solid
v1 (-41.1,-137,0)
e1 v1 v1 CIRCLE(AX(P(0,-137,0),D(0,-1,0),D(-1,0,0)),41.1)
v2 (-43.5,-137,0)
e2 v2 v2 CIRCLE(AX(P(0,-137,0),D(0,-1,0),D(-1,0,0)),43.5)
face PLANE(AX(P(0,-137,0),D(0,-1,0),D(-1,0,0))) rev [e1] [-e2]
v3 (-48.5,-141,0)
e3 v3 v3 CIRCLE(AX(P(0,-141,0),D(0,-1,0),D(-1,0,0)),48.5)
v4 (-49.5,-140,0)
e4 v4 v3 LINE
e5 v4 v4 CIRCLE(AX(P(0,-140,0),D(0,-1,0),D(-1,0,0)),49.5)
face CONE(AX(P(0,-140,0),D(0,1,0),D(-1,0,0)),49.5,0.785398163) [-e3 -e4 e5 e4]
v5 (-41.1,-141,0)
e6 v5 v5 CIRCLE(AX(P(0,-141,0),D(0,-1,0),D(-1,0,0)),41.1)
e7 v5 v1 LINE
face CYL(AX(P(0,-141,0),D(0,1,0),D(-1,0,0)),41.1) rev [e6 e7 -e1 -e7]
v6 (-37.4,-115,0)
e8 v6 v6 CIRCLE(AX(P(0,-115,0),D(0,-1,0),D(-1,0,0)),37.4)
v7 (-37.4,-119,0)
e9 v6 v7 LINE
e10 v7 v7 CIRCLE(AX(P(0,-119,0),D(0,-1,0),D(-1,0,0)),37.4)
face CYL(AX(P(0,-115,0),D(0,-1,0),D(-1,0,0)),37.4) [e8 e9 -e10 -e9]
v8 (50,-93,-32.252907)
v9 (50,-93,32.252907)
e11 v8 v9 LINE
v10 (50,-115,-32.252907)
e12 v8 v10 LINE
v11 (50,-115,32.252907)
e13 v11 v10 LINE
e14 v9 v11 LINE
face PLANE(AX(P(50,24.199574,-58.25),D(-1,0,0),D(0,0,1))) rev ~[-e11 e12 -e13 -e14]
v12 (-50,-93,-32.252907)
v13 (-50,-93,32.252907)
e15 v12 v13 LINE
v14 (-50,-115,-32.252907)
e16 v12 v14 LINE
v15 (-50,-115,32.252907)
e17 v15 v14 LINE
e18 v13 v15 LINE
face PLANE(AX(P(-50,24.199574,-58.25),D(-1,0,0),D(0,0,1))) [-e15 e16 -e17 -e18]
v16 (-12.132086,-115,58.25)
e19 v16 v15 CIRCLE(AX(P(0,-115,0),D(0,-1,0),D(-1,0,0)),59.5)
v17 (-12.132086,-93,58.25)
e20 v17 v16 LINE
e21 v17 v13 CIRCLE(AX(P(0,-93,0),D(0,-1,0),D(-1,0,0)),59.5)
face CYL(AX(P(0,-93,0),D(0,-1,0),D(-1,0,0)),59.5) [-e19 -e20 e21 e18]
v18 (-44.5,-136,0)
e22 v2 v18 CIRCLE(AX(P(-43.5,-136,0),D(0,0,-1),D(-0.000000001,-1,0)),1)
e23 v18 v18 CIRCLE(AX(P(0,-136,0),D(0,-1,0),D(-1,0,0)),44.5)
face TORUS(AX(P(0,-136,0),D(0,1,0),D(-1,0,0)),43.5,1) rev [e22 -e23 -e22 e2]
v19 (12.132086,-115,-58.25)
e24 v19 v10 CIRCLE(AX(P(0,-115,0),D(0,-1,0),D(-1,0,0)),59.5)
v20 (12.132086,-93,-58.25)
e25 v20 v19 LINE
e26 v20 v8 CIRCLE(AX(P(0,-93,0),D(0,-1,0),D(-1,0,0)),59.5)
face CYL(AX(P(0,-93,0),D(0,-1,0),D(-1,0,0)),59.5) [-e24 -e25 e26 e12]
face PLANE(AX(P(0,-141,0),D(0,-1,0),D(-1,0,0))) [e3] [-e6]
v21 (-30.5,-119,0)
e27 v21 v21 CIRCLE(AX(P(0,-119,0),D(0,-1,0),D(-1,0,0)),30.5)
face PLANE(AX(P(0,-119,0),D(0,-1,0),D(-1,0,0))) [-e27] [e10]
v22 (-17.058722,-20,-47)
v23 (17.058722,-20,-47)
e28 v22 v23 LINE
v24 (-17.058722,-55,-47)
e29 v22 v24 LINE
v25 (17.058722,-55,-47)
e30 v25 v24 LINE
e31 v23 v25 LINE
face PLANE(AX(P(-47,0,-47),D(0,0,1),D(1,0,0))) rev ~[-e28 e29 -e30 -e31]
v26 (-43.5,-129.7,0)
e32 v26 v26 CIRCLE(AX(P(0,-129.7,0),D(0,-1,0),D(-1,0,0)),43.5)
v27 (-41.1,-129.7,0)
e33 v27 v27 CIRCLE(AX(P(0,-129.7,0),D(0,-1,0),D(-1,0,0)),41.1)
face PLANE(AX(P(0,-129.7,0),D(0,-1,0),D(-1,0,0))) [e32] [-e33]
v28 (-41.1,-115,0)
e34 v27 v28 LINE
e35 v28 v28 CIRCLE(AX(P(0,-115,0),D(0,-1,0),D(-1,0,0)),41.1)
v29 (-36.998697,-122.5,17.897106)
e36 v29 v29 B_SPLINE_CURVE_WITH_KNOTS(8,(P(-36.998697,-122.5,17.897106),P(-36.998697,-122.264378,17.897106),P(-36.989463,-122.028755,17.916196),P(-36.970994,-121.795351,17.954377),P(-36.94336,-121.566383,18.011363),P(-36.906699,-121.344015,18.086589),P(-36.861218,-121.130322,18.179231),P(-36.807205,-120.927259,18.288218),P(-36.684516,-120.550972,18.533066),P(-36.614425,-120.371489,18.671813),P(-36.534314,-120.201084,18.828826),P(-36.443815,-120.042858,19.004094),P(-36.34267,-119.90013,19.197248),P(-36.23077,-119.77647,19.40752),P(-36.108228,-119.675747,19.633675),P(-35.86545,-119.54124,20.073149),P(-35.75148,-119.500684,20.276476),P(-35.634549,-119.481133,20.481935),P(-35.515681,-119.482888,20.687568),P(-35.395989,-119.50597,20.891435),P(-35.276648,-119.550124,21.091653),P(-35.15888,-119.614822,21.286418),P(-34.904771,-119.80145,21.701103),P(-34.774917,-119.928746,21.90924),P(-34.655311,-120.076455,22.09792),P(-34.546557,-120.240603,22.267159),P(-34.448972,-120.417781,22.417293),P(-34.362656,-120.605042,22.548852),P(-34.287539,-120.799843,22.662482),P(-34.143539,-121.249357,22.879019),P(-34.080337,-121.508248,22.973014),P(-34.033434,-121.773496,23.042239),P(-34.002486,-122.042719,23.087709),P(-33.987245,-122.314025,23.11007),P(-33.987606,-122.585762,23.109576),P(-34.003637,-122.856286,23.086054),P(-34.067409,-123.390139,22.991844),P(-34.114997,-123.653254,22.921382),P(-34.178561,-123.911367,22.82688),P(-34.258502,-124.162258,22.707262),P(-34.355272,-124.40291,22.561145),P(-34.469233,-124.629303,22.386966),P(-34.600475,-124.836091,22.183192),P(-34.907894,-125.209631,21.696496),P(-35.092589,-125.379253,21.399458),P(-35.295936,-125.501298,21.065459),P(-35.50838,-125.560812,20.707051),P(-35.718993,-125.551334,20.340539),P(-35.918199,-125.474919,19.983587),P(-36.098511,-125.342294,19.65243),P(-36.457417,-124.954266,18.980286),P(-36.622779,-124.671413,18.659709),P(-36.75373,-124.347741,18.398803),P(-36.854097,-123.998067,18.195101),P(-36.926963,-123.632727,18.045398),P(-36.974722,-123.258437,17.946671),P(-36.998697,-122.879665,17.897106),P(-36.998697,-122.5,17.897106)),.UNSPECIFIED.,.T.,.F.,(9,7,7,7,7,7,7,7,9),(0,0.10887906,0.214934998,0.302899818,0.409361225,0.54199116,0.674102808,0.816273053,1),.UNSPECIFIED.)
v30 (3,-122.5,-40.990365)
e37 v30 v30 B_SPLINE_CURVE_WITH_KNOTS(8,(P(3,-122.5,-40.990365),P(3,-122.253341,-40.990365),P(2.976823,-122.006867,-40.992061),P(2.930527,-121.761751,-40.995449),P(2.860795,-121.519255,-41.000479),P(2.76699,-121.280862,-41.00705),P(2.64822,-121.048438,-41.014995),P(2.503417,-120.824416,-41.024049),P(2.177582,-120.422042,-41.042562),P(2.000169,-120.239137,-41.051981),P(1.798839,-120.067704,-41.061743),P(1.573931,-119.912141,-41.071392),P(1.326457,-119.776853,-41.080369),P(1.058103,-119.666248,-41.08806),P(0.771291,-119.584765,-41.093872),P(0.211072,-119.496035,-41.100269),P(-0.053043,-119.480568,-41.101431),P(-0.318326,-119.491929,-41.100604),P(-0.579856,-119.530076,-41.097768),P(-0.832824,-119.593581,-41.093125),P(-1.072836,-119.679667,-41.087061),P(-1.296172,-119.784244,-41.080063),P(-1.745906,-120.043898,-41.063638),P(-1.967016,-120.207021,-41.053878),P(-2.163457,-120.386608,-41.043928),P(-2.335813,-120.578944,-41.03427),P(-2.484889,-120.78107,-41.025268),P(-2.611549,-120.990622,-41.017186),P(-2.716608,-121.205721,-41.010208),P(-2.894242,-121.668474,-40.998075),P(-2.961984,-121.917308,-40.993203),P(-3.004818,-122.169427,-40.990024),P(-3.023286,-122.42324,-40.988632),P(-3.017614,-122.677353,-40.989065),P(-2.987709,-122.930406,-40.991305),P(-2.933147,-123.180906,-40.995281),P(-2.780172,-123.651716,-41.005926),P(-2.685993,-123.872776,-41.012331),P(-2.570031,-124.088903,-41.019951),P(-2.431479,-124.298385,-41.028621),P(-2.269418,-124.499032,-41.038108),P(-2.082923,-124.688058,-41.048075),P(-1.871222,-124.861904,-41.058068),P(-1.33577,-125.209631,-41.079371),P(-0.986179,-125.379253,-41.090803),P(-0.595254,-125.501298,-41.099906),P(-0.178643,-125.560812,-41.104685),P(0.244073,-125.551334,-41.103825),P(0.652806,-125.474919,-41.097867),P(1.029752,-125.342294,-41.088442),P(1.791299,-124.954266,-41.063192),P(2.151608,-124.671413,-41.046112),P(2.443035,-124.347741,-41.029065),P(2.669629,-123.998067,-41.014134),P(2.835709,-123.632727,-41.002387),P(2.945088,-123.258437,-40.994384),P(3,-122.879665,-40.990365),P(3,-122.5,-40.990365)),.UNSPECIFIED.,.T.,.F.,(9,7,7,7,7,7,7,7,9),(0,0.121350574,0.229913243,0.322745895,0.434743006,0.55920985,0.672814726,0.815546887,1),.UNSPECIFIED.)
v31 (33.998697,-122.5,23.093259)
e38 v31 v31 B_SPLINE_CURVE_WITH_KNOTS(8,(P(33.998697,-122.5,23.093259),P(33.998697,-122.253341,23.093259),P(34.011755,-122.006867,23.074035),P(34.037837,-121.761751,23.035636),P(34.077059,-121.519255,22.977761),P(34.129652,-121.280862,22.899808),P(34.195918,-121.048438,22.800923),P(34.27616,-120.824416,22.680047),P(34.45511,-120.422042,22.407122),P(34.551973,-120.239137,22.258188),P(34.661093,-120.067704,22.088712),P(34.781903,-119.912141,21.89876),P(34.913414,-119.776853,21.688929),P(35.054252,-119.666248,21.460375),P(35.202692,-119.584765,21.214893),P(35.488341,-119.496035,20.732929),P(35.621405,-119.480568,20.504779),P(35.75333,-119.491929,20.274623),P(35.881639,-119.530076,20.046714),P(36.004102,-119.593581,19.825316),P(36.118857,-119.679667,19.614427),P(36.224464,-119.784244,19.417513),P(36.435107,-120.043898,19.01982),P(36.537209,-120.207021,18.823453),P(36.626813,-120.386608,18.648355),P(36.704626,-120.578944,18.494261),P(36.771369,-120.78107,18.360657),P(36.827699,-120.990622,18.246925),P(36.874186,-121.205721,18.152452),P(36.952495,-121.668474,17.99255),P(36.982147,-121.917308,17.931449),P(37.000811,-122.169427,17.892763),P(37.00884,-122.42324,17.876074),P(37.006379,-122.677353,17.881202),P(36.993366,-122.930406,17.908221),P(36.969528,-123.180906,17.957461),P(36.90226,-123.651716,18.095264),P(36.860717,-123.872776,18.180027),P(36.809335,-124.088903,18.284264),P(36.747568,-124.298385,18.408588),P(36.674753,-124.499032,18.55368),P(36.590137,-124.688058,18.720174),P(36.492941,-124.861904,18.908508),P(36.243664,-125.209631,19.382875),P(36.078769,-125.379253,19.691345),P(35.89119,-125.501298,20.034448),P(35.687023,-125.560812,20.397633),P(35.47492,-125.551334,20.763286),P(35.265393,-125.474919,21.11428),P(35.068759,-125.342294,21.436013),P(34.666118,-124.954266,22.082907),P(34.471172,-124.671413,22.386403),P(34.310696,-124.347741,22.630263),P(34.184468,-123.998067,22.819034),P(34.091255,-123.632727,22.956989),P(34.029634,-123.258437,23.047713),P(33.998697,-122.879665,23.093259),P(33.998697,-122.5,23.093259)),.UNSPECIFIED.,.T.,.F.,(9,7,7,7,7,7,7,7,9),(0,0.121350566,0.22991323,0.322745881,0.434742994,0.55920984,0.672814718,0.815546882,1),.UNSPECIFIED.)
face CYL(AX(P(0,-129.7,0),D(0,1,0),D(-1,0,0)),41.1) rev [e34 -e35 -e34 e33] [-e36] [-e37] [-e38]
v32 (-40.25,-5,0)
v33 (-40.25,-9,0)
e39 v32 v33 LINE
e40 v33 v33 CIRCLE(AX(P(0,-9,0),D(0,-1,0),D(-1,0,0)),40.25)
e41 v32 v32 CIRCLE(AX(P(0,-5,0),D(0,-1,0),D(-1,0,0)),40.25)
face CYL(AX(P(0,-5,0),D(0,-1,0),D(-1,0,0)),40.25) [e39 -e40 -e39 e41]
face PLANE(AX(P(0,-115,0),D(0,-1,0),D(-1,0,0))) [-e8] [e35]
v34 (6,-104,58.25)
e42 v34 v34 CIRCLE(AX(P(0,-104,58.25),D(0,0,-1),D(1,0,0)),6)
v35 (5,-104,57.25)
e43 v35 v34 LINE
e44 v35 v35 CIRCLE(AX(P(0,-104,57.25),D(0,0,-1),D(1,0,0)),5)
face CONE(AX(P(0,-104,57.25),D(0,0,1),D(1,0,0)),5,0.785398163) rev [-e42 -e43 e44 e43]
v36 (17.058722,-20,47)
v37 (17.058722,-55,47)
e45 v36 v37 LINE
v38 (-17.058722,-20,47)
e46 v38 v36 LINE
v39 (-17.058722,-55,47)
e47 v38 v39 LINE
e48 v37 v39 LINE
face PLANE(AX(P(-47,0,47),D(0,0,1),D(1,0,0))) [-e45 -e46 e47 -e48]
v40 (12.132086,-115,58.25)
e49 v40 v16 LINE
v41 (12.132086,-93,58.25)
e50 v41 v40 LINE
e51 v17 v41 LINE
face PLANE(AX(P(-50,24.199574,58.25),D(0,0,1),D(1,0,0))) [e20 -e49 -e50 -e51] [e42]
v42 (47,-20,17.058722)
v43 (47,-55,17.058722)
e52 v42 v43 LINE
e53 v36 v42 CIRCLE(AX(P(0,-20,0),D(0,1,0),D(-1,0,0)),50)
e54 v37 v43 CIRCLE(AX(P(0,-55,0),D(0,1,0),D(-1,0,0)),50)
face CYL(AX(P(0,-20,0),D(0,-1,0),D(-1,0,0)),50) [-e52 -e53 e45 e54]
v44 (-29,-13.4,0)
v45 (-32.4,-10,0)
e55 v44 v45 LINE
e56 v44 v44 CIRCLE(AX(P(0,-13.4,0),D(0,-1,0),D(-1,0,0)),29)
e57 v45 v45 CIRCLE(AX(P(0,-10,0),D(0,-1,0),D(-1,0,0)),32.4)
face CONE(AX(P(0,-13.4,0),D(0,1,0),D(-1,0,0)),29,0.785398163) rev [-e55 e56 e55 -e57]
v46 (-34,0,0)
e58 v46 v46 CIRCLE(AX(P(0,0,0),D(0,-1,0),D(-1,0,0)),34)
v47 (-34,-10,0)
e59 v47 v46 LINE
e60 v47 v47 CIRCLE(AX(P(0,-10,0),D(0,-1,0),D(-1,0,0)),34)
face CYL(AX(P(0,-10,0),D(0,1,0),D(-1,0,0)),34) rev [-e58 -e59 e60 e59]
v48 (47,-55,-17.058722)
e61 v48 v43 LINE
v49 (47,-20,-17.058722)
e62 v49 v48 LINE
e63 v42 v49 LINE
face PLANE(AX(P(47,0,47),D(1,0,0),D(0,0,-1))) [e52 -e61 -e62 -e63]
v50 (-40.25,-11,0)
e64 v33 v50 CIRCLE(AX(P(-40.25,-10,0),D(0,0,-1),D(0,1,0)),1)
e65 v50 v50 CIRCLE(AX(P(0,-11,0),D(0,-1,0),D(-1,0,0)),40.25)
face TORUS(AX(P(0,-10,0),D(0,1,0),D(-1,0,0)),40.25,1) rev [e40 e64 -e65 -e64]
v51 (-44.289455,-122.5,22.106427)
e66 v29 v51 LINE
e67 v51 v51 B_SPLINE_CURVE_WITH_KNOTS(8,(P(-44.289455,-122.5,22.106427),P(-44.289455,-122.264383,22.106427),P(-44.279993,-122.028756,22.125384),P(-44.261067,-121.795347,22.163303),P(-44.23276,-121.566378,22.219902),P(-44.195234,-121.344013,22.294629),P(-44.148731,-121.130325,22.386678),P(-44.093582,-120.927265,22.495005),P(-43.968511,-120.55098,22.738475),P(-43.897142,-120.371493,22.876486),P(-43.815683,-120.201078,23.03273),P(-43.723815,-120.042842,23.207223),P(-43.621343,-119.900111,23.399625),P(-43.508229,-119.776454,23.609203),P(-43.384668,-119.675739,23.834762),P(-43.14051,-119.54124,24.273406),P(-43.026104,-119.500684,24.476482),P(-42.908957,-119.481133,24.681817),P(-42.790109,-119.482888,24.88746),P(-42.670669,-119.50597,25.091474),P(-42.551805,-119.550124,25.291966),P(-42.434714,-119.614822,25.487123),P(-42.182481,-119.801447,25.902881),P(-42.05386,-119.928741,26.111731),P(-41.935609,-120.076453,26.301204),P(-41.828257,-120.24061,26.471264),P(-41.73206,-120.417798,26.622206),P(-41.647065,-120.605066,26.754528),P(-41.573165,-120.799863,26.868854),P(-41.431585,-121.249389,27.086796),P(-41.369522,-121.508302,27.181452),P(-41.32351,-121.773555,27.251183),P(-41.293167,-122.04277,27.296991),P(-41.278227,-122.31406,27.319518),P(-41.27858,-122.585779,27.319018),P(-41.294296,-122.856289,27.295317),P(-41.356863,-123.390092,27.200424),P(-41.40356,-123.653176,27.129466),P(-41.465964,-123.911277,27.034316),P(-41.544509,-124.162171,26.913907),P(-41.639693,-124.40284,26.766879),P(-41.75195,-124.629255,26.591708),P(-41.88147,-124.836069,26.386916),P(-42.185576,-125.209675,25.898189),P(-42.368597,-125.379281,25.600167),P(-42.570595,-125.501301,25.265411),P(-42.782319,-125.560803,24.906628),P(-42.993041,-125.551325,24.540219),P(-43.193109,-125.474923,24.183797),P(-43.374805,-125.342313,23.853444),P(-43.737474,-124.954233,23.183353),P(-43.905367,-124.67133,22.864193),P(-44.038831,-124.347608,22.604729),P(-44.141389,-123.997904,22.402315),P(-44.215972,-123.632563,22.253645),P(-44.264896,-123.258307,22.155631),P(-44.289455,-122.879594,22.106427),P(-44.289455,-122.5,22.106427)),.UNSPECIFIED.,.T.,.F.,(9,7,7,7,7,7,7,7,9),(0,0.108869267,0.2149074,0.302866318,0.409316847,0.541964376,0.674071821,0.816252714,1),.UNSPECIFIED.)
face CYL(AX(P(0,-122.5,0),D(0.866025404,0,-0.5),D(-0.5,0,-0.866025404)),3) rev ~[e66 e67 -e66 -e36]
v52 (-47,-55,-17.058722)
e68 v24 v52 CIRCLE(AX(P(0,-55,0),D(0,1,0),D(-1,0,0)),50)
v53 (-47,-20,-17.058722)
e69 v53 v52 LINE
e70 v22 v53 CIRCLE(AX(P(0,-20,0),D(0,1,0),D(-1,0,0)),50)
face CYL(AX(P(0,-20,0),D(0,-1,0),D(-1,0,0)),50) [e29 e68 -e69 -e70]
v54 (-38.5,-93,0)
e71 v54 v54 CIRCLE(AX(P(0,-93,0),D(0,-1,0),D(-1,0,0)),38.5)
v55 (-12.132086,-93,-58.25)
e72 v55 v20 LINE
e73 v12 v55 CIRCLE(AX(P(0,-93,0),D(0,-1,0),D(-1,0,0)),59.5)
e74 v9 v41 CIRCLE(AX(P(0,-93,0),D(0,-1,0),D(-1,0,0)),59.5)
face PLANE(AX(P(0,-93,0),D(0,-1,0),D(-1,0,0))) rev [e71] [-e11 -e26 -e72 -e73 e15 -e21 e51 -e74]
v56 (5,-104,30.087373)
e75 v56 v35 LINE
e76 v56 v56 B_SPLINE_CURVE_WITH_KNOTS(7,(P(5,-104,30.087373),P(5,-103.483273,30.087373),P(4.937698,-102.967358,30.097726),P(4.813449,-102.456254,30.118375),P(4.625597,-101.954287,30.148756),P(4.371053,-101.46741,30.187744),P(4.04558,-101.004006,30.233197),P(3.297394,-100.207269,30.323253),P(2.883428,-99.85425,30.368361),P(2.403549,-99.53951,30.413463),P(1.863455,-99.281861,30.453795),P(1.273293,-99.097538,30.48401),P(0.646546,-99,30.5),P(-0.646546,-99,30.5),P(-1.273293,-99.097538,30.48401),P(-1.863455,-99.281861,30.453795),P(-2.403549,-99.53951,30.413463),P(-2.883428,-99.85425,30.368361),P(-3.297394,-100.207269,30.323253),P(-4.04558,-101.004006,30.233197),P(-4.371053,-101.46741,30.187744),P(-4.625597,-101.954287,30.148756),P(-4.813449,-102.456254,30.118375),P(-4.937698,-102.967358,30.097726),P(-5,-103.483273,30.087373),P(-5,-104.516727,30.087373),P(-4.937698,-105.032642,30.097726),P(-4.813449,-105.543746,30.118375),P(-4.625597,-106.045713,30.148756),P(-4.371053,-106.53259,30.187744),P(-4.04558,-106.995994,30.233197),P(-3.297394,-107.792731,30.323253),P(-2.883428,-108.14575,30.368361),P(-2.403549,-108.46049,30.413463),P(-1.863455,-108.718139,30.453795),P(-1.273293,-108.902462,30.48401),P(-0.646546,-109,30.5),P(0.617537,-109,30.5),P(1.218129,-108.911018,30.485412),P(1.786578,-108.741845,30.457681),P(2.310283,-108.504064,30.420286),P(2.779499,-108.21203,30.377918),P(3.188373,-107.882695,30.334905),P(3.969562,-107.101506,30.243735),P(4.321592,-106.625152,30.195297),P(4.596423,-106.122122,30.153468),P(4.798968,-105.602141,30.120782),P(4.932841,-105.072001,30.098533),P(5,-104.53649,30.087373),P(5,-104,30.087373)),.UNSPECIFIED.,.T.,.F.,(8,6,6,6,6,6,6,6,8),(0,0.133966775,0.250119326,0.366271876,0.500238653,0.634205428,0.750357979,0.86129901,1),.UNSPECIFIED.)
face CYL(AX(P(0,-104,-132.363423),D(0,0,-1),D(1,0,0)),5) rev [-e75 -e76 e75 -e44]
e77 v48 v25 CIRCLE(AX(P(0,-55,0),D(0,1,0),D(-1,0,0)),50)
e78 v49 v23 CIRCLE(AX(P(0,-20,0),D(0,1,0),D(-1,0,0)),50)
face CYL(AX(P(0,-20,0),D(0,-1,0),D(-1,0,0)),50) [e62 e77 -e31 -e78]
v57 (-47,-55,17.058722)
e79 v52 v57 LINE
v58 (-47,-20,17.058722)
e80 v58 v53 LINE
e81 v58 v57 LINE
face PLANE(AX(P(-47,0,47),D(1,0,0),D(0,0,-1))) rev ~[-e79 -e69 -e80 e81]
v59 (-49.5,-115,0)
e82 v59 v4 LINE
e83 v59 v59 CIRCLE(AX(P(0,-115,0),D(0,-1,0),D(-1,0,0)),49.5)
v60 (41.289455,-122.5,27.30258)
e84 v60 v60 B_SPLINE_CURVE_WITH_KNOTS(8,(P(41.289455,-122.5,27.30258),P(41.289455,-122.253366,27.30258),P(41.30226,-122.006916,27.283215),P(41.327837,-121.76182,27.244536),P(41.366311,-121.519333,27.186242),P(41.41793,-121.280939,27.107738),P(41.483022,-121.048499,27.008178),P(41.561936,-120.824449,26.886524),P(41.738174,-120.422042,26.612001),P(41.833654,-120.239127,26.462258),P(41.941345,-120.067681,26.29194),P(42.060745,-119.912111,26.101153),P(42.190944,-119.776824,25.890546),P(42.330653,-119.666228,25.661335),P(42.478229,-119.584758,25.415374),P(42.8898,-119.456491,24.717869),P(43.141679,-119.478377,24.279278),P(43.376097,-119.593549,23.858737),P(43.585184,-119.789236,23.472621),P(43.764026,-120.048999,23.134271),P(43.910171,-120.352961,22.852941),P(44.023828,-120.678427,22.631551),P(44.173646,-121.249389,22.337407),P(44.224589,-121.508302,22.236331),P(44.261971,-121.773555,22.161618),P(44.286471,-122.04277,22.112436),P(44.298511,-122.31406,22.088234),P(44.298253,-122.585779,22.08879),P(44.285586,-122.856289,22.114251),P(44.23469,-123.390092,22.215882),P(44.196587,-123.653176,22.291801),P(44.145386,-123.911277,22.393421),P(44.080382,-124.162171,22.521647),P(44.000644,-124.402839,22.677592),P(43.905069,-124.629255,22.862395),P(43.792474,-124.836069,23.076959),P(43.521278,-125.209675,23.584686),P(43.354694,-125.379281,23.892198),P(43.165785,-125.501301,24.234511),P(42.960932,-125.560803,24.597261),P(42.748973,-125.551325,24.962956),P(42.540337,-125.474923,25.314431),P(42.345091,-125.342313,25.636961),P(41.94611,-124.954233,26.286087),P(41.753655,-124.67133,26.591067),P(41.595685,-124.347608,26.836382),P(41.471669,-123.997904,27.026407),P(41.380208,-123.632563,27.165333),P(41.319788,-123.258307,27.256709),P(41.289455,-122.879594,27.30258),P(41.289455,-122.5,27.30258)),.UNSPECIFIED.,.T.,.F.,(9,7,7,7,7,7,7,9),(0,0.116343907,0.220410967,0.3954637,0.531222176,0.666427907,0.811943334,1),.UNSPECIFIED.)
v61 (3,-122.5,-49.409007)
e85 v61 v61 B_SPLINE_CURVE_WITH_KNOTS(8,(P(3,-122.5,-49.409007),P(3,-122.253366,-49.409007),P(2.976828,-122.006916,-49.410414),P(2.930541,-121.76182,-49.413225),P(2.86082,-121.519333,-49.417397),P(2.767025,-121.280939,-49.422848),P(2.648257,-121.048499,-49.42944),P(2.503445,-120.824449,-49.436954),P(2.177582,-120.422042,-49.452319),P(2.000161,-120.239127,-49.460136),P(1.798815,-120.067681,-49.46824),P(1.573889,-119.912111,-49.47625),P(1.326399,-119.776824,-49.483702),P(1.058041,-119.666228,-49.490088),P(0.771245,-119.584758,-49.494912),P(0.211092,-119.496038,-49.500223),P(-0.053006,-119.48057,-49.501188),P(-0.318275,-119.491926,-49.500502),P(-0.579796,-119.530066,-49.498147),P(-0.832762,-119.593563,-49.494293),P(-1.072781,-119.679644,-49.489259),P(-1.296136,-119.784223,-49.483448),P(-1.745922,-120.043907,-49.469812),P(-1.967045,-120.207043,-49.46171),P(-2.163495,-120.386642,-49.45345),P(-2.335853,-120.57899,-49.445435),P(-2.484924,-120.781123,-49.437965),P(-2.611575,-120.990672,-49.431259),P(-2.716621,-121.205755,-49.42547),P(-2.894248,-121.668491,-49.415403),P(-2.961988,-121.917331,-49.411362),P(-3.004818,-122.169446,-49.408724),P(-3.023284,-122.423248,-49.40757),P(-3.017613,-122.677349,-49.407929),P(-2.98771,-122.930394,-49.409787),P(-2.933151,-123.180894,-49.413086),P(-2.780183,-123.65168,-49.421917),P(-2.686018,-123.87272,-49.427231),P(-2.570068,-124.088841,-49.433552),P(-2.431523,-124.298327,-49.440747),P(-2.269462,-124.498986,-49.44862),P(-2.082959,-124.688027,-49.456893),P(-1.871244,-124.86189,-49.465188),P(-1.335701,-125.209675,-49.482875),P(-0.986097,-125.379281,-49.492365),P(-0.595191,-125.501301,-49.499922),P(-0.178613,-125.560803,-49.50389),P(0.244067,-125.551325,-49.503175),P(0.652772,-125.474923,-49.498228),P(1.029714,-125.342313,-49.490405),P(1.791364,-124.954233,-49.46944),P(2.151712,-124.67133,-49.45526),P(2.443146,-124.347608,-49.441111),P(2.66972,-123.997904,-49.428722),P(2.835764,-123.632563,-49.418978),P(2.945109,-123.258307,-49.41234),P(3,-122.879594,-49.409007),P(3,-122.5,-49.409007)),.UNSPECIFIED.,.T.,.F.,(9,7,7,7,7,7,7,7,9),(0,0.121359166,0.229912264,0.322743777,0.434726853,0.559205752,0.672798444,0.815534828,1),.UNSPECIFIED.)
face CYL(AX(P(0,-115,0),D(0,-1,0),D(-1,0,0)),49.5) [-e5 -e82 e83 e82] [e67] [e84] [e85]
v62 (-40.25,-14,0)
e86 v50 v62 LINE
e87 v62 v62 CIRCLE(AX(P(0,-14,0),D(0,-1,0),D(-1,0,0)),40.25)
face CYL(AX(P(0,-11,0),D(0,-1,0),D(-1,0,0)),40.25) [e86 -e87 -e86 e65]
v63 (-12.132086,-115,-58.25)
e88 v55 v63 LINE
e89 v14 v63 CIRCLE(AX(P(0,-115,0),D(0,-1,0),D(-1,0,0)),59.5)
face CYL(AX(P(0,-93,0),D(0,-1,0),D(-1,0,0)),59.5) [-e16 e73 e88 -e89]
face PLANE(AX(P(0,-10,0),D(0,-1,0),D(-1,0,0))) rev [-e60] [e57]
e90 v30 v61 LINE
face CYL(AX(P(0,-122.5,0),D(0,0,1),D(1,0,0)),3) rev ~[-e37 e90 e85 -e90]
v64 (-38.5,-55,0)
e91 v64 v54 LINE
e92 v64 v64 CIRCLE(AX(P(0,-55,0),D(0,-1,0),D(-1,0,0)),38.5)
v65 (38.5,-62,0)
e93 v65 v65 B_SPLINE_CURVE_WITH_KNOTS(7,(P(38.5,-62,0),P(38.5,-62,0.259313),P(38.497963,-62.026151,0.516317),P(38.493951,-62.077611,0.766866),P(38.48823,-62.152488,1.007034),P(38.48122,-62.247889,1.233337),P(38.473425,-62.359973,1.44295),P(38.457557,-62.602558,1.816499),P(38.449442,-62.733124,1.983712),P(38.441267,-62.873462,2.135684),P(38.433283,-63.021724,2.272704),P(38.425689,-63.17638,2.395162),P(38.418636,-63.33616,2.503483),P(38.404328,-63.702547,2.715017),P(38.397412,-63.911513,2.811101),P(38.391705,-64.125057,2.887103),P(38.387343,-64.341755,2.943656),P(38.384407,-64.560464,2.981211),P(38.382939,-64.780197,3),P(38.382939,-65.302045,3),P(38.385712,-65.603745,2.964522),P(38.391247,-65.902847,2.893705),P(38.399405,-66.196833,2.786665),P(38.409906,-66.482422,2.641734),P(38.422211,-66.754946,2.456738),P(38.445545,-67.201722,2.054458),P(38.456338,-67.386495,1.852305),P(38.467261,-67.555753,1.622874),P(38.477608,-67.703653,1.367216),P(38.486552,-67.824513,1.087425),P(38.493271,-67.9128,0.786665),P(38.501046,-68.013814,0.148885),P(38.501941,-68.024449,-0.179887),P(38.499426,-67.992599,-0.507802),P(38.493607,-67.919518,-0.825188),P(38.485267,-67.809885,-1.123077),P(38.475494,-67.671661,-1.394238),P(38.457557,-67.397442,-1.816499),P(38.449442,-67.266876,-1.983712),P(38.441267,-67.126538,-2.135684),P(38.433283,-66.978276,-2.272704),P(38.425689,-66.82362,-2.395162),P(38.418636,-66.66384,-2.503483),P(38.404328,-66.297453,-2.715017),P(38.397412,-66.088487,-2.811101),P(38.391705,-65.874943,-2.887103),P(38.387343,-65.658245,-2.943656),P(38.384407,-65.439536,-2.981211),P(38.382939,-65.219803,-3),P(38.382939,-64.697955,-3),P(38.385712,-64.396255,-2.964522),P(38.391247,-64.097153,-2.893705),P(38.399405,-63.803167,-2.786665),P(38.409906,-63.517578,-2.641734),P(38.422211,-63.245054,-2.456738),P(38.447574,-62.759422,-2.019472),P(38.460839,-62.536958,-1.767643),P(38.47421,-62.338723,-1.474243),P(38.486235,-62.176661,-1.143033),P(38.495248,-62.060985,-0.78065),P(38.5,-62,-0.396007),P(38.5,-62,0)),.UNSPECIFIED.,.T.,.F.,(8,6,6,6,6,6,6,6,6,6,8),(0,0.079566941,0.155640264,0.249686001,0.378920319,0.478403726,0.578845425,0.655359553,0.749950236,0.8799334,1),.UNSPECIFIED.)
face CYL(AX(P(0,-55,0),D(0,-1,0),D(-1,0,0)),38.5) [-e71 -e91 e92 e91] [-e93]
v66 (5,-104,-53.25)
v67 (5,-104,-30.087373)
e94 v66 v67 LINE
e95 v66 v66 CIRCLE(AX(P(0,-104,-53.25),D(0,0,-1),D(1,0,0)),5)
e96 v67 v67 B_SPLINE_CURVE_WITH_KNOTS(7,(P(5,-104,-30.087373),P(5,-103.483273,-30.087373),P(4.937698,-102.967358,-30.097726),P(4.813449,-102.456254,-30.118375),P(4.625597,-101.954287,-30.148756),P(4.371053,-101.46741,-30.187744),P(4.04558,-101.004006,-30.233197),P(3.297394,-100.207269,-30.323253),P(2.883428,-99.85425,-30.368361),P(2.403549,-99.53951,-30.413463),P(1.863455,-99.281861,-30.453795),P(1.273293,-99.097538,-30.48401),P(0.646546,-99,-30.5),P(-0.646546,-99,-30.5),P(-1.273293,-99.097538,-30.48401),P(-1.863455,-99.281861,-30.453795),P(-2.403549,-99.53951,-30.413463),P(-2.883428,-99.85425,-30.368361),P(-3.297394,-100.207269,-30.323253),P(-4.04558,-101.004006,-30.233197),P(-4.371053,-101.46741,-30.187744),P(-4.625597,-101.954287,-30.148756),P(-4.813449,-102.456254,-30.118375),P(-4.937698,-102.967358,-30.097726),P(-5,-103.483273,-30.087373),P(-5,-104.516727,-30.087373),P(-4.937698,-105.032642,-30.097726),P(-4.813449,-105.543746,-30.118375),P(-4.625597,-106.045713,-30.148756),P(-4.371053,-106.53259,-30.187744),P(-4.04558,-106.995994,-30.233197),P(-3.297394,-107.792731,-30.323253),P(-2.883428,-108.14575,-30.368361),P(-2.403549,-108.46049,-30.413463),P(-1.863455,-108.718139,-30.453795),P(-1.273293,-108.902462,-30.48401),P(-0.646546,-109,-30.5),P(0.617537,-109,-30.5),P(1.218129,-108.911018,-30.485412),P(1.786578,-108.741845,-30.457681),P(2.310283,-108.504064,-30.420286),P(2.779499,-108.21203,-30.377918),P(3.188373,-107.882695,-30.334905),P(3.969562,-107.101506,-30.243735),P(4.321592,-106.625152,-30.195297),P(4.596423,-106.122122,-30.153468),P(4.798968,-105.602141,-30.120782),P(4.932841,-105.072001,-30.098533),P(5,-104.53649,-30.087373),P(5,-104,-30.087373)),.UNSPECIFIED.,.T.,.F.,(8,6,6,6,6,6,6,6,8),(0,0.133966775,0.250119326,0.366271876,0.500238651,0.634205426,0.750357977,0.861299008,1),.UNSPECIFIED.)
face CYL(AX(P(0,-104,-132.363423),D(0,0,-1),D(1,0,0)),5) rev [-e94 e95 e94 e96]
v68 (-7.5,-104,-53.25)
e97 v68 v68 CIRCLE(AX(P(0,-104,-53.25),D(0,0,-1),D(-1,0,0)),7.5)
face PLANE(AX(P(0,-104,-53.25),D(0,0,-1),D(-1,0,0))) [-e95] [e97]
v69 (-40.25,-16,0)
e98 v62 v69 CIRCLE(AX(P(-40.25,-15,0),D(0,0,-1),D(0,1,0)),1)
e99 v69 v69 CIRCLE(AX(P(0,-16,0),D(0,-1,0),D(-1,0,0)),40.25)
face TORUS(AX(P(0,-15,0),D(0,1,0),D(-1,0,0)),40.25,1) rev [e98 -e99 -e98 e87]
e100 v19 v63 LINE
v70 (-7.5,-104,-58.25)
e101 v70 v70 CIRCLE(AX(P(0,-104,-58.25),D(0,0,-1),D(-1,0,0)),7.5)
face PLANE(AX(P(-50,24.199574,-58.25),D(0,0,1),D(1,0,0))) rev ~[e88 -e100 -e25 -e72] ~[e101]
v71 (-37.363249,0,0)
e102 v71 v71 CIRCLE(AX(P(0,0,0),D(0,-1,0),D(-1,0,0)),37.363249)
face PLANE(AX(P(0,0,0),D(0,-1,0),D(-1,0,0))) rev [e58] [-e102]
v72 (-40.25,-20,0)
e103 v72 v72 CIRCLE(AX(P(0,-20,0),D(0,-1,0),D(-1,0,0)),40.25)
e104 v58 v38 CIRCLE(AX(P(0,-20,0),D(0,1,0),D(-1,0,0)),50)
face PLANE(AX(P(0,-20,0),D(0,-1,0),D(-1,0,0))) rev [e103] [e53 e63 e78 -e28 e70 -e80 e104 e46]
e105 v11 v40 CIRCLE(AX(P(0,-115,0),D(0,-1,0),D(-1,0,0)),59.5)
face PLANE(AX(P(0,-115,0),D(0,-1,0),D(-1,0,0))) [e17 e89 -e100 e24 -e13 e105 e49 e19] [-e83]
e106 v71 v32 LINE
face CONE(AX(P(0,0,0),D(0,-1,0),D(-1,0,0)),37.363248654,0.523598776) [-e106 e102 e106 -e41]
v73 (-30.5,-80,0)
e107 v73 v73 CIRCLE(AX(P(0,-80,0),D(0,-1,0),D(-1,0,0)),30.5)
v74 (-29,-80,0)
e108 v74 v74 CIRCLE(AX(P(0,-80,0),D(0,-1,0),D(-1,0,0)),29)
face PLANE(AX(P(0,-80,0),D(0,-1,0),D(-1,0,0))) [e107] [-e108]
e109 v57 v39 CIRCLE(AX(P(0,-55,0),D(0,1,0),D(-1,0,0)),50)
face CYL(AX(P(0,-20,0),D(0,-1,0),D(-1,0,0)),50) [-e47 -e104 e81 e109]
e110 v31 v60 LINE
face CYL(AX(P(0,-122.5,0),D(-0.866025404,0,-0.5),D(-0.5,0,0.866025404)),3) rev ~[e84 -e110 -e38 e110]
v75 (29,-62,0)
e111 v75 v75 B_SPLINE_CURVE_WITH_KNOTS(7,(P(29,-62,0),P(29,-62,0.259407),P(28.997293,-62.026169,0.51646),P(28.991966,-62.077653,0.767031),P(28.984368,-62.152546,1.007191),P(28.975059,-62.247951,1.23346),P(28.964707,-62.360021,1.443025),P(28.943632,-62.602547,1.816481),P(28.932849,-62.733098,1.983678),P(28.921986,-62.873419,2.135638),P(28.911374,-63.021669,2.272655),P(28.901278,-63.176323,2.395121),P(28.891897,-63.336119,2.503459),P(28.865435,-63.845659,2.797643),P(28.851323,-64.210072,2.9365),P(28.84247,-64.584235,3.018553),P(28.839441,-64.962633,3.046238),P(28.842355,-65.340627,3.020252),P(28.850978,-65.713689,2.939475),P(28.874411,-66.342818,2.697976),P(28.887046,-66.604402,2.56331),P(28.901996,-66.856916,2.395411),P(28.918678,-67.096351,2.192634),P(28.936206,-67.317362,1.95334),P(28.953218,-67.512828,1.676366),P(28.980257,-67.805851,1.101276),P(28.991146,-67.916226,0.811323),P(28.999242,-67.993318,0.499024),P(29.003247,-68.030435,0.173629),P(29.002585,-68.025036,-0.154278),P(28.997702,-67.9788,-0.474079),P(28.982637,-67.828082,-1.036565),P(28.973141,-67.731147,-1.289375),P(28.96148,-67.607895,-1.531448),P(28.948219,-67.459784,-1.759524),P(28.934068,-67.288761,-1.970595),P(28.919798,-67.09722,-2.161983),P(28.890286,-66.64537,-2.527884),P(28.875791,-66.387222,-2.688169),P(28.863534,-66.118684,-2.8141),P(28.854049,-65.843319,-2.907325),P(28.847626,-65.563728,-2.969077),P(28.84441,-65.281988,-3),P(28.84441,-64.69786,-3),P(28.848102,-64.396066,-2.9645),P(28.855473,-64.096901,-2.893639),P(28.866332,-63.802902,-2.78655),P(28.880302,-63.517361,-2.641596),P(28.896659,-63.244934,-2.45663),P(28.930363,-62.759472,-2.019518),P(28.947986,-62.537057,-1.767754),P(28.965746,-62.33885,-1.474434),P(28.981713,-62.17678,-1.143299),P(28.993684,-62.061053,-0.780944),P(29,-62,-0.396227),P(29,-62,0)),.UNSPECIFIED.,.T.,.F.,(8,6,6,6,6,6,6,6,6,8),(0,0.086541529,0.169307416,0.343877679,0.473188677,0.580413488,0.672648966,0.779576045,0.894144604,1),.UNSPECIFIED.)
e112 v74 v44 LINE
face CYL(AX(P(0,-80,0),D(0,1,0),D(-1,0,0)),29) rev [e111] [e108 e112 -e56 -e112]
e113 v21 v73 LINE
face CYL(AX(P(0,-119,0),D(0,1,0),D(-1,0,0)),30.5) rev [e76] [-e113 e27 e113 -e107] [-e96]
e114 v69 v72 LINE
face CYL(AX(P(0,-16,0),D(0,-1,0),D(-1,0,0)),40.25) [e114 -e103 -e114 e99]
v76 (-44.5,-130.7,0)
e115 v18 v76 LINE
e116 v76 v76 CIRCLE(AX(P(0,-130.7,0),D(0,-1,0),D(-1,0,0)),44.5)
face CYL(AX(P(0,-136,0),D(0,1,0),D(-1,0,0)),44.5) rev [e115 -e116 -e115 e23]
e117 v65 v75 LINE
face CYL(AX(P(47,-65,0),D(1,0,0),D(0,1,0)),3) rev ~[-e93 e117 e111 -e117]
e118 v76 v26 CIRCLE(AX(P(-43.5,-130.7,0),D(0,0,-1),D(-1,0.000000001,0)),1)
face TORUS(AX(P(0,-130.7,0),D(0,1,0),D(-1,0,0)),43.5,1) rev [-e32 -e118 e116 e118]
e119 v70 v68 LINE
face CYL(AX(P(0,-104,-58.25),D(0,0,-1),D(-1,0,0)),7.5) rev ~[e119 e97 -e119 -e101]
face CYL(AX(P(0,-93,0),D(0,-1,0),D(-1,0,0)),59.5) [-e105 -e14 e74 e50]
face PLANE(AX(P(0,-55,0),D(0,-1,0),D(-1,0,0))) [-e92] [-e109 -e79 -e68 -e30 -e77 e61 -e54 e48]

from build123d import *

# Parameters (mm, degrees)
SKETCH2_R               = 3
CUT_EXTRUDE1_DEPTH      = 80
CIRPATTERN1_COUNT       = 3
CUT_EXTRUDE2_DEPTH      = 165.19957369
CUT_EXTRUDE2_DEPTH_BACK = 165.19957369
SKETCH3_W               = 200
SKETCH3_H               = 200
SKETCH3_W_2             = 100
SKETCH3_H_2             = 116.5
SKETCH4_W               = 200
SKETCH4_H               = 200
SKETCH4_W_2             = 94
SKETCH4_H_2             = 94
CUT_EXTRUDE3_DEPTH      = 80
CUT_EXTRUDE4_DEPTH      = 190.613422521
CUT_EXTRUDE4_DEPTH_BACK = 190.613422521
SKETCH5_R               = 5
CHAMFER1_SIZE           = 1
SKETCH6_R               = 7.5
CUT_EXTRUDE5_DEPTH      = 5
CUT_EXTRUDE6_REACH      = 182.785
CUT_EXTRUDE6_END_RADIUS = 29
SKETCH7_R               = 3


with BuildPart() as part:
    # Sketch1 → Revolve1 (revolve)
    with BuildSketch(Plane.XY, mode=Mode.PRIVATE) as revolve1_sk:
        with BuildLine():
            Line((34, 0), (37.363248654, 0))
            Line((37.363248654, 0), (40.25, -5))
            Line((40.25, -5), (40.25, -9))
            ThreePointArc((40.25, -9), (39.25, -10), (40.25, -11))
            Line((40.25, -11), (40.25, -14))
            ThreePointArc((40.25, -14), (39.25, -15), (40.25, -16))
            Line((40.25, -16), (40.25, -20))
            Line((40.25, -20), (50, -20))
            Line((50, -20), (50, -55))
            Line((50, -55), (38.5, -55))
            Line((38.5, -55), (38.5, -93))
            Line((38.5, -93), (59.5, -93))
            Line((59.5, -93), (59.5, -115))
            Line((59.5, -115), (49.5, -115))
            Line((49.5, -115), (49.5, -140))
            Line((49.5, -140), (48.5, -141))
            Line((48.5, -141), (41.1, -141))
            Line((41.1, -141), (41.1, -137))
            Line((41.1, -137), (43.5, -137))
            ThreePointArc((43.5, -137), (44.207106781, -136.707106781), (44.5, -136))
            Line((44.5, -136), (44.5, -130.7))
            ThreePointArc((44.5, -130.7), (44.207106781, -129.992893219), (43.5, -129.7))
            Line((43.5, -129.7), (41.1, -129.7))
            Line((41.1, -129.7), (41.1, -115))
            Line((41.1, -115), (37.4, -115))
            Line((37.4, -115), (37.4, -119))
            Line((37.4, -119), (30.5, -119))
            Line((30.5, -119), (30.5, -80))
            Line((30.5, -80), (29, -80))
            Line((29, -80), (29, -13.4))
            Line((29, -13.4), (32.4, -10))
            Line((32.4, -10), (34, -10))
            Line((34, -10), (34, 0))
        make_face()
    revolve(revolve1_sk.sketch.rotate(Axis((0, 228.281412322, 0), (0, -1, 0)), 180), axis=Axis((0, 228.281412322, 0), (0, -1, 0)))

    # Sketch2 → Cut-Extrude1 (cut)
    with BuildSketch(Plane.XY):
        with Locations((0, -122.5)):
            Circle(SKETCH2_R)
    cut_extrude1 = extrude(amount=-CUT_EXTRUDE1_DEPTH, mode=Mode.SUBTRACT)

    # CirPattern1: Cut-Extrude1 ×3 about axis
    cirpattern1_axis = Axis((0, 228.281412322, 0), (0, 1, 0))
    for i in range(1, CIRPATTERN1_COUNT):
        add(cut_extrude1.rotate(cirpattern1_axis, i * 360 / CIRPATTERN1_COUNT), mode=Mode.SUBTRACT)

    # Sketch3 → Cut-Extrude2 (cut, two sides: drawn at the far end of the back side and taken through both)
    with BuildSketch(Plane.XZ.offset(141).offset(-CUT_EXTRUDE2_DEPTH_BACK)):
        Rectangle(SKETCH3_W, SKETCH3_H)
        Rectangle(SKETCH3_W_2, SKETCH3_H_2, mode=Mode.SUBTRACT)
    extrude(amount=CUT_EXTRUDE2_DEPTH + CUT_EXTRUDE2_DEPTH_BACK, mode=Mode.SUBTRACT)

    # Sketch4 → Cut-Extrude3 (cut)
    with BuildSketch(Plane(origin=(0, 0, 0), x_dir=(1, 0, 0), z_dir=(0, 1, 0))):
        Rectangle(SKETCH4_W, SKETCH4_H)
        Rectangle(SKETCH4_W_2, SKETCH4_H_2, mode=Mode.SUBTRACT)
    extrude(amount=-CUT_EXTRUDE3_DEPTH, mode=Mode.SUBTRACT)

    # Sketch5 → Cut-Extrude4 (cut, two sides: drawn at the far end of the back side and taken through both)
    with BuildSketch(Plane.XY.offset(58.25).offset(-CUT_EXTRUDE4_DEPTH_BACK)):
        with Locations((0, -104)):
            Circle(SKETCH5_R)
    extrude(amount=CUT_EXTRUDE4_DEPTH + CUT_EXTRUDE4_DEPTH_BACK, mode=Mode.SUBTRACT)

    # Chamfer1
    chamfer1_edges = [part.edges().sort_by_distance(p)[0] for p in [
        (-5, -104, 58.25),
    ]]
    chamfer(chamfer1_edges, length=CHAMFER1_SIZE)

    # Sketch6 → Cut-Extrude5 (cut)
    with BuildSketch(Plane(origin=(0, 0, -58.25), x_dir=(-1, 0, 0), z_dir=(0, 0, -1))):
        with Locations((0, -104)):
            Circle(SKETCH6_R)
    extrude(amount=-CUT_EXTRUDE5_DEPTH, mode=Mode.SUBTRACT)

    # Cut-Extrude6: up to this cylinder (the profile starts outside it)
    cut_extrude6_end = Plane(origin=(0, -65, 0), z_dir=(0, 1, 0)) * Cylinder(CUT_EXTRUDE6_END_RADIUS, 424.57, mode=Mode.PRIVATE)
    # Sketch7 → Cut-Extrude6 (cut, up to the surface)
    with BuildSketch(Plane(origin=(47, 0, 0), x_dir=(0, 0, -1), z_dir=(1, 0, 0)), mode=Mode.PRIVATE) as cut_extrude6_sk1:
        with Locations(Location((0, -65, 0), (0, 0, 90))):
            Circle(SKETCH7_R)
    cut_extrude6_tool1 = extrude(cut_extrude6_sk1.sketch, amount=-CUT_EXTRUDE6_REACH, mode=Mode.PRIVATE) - cut_extrude6_end
    add(cut_extrude6_tool1.solids().sort_by_distance((47, -65, 0))[0], mode=Mode.SUBTRACT)


solid = part.part
